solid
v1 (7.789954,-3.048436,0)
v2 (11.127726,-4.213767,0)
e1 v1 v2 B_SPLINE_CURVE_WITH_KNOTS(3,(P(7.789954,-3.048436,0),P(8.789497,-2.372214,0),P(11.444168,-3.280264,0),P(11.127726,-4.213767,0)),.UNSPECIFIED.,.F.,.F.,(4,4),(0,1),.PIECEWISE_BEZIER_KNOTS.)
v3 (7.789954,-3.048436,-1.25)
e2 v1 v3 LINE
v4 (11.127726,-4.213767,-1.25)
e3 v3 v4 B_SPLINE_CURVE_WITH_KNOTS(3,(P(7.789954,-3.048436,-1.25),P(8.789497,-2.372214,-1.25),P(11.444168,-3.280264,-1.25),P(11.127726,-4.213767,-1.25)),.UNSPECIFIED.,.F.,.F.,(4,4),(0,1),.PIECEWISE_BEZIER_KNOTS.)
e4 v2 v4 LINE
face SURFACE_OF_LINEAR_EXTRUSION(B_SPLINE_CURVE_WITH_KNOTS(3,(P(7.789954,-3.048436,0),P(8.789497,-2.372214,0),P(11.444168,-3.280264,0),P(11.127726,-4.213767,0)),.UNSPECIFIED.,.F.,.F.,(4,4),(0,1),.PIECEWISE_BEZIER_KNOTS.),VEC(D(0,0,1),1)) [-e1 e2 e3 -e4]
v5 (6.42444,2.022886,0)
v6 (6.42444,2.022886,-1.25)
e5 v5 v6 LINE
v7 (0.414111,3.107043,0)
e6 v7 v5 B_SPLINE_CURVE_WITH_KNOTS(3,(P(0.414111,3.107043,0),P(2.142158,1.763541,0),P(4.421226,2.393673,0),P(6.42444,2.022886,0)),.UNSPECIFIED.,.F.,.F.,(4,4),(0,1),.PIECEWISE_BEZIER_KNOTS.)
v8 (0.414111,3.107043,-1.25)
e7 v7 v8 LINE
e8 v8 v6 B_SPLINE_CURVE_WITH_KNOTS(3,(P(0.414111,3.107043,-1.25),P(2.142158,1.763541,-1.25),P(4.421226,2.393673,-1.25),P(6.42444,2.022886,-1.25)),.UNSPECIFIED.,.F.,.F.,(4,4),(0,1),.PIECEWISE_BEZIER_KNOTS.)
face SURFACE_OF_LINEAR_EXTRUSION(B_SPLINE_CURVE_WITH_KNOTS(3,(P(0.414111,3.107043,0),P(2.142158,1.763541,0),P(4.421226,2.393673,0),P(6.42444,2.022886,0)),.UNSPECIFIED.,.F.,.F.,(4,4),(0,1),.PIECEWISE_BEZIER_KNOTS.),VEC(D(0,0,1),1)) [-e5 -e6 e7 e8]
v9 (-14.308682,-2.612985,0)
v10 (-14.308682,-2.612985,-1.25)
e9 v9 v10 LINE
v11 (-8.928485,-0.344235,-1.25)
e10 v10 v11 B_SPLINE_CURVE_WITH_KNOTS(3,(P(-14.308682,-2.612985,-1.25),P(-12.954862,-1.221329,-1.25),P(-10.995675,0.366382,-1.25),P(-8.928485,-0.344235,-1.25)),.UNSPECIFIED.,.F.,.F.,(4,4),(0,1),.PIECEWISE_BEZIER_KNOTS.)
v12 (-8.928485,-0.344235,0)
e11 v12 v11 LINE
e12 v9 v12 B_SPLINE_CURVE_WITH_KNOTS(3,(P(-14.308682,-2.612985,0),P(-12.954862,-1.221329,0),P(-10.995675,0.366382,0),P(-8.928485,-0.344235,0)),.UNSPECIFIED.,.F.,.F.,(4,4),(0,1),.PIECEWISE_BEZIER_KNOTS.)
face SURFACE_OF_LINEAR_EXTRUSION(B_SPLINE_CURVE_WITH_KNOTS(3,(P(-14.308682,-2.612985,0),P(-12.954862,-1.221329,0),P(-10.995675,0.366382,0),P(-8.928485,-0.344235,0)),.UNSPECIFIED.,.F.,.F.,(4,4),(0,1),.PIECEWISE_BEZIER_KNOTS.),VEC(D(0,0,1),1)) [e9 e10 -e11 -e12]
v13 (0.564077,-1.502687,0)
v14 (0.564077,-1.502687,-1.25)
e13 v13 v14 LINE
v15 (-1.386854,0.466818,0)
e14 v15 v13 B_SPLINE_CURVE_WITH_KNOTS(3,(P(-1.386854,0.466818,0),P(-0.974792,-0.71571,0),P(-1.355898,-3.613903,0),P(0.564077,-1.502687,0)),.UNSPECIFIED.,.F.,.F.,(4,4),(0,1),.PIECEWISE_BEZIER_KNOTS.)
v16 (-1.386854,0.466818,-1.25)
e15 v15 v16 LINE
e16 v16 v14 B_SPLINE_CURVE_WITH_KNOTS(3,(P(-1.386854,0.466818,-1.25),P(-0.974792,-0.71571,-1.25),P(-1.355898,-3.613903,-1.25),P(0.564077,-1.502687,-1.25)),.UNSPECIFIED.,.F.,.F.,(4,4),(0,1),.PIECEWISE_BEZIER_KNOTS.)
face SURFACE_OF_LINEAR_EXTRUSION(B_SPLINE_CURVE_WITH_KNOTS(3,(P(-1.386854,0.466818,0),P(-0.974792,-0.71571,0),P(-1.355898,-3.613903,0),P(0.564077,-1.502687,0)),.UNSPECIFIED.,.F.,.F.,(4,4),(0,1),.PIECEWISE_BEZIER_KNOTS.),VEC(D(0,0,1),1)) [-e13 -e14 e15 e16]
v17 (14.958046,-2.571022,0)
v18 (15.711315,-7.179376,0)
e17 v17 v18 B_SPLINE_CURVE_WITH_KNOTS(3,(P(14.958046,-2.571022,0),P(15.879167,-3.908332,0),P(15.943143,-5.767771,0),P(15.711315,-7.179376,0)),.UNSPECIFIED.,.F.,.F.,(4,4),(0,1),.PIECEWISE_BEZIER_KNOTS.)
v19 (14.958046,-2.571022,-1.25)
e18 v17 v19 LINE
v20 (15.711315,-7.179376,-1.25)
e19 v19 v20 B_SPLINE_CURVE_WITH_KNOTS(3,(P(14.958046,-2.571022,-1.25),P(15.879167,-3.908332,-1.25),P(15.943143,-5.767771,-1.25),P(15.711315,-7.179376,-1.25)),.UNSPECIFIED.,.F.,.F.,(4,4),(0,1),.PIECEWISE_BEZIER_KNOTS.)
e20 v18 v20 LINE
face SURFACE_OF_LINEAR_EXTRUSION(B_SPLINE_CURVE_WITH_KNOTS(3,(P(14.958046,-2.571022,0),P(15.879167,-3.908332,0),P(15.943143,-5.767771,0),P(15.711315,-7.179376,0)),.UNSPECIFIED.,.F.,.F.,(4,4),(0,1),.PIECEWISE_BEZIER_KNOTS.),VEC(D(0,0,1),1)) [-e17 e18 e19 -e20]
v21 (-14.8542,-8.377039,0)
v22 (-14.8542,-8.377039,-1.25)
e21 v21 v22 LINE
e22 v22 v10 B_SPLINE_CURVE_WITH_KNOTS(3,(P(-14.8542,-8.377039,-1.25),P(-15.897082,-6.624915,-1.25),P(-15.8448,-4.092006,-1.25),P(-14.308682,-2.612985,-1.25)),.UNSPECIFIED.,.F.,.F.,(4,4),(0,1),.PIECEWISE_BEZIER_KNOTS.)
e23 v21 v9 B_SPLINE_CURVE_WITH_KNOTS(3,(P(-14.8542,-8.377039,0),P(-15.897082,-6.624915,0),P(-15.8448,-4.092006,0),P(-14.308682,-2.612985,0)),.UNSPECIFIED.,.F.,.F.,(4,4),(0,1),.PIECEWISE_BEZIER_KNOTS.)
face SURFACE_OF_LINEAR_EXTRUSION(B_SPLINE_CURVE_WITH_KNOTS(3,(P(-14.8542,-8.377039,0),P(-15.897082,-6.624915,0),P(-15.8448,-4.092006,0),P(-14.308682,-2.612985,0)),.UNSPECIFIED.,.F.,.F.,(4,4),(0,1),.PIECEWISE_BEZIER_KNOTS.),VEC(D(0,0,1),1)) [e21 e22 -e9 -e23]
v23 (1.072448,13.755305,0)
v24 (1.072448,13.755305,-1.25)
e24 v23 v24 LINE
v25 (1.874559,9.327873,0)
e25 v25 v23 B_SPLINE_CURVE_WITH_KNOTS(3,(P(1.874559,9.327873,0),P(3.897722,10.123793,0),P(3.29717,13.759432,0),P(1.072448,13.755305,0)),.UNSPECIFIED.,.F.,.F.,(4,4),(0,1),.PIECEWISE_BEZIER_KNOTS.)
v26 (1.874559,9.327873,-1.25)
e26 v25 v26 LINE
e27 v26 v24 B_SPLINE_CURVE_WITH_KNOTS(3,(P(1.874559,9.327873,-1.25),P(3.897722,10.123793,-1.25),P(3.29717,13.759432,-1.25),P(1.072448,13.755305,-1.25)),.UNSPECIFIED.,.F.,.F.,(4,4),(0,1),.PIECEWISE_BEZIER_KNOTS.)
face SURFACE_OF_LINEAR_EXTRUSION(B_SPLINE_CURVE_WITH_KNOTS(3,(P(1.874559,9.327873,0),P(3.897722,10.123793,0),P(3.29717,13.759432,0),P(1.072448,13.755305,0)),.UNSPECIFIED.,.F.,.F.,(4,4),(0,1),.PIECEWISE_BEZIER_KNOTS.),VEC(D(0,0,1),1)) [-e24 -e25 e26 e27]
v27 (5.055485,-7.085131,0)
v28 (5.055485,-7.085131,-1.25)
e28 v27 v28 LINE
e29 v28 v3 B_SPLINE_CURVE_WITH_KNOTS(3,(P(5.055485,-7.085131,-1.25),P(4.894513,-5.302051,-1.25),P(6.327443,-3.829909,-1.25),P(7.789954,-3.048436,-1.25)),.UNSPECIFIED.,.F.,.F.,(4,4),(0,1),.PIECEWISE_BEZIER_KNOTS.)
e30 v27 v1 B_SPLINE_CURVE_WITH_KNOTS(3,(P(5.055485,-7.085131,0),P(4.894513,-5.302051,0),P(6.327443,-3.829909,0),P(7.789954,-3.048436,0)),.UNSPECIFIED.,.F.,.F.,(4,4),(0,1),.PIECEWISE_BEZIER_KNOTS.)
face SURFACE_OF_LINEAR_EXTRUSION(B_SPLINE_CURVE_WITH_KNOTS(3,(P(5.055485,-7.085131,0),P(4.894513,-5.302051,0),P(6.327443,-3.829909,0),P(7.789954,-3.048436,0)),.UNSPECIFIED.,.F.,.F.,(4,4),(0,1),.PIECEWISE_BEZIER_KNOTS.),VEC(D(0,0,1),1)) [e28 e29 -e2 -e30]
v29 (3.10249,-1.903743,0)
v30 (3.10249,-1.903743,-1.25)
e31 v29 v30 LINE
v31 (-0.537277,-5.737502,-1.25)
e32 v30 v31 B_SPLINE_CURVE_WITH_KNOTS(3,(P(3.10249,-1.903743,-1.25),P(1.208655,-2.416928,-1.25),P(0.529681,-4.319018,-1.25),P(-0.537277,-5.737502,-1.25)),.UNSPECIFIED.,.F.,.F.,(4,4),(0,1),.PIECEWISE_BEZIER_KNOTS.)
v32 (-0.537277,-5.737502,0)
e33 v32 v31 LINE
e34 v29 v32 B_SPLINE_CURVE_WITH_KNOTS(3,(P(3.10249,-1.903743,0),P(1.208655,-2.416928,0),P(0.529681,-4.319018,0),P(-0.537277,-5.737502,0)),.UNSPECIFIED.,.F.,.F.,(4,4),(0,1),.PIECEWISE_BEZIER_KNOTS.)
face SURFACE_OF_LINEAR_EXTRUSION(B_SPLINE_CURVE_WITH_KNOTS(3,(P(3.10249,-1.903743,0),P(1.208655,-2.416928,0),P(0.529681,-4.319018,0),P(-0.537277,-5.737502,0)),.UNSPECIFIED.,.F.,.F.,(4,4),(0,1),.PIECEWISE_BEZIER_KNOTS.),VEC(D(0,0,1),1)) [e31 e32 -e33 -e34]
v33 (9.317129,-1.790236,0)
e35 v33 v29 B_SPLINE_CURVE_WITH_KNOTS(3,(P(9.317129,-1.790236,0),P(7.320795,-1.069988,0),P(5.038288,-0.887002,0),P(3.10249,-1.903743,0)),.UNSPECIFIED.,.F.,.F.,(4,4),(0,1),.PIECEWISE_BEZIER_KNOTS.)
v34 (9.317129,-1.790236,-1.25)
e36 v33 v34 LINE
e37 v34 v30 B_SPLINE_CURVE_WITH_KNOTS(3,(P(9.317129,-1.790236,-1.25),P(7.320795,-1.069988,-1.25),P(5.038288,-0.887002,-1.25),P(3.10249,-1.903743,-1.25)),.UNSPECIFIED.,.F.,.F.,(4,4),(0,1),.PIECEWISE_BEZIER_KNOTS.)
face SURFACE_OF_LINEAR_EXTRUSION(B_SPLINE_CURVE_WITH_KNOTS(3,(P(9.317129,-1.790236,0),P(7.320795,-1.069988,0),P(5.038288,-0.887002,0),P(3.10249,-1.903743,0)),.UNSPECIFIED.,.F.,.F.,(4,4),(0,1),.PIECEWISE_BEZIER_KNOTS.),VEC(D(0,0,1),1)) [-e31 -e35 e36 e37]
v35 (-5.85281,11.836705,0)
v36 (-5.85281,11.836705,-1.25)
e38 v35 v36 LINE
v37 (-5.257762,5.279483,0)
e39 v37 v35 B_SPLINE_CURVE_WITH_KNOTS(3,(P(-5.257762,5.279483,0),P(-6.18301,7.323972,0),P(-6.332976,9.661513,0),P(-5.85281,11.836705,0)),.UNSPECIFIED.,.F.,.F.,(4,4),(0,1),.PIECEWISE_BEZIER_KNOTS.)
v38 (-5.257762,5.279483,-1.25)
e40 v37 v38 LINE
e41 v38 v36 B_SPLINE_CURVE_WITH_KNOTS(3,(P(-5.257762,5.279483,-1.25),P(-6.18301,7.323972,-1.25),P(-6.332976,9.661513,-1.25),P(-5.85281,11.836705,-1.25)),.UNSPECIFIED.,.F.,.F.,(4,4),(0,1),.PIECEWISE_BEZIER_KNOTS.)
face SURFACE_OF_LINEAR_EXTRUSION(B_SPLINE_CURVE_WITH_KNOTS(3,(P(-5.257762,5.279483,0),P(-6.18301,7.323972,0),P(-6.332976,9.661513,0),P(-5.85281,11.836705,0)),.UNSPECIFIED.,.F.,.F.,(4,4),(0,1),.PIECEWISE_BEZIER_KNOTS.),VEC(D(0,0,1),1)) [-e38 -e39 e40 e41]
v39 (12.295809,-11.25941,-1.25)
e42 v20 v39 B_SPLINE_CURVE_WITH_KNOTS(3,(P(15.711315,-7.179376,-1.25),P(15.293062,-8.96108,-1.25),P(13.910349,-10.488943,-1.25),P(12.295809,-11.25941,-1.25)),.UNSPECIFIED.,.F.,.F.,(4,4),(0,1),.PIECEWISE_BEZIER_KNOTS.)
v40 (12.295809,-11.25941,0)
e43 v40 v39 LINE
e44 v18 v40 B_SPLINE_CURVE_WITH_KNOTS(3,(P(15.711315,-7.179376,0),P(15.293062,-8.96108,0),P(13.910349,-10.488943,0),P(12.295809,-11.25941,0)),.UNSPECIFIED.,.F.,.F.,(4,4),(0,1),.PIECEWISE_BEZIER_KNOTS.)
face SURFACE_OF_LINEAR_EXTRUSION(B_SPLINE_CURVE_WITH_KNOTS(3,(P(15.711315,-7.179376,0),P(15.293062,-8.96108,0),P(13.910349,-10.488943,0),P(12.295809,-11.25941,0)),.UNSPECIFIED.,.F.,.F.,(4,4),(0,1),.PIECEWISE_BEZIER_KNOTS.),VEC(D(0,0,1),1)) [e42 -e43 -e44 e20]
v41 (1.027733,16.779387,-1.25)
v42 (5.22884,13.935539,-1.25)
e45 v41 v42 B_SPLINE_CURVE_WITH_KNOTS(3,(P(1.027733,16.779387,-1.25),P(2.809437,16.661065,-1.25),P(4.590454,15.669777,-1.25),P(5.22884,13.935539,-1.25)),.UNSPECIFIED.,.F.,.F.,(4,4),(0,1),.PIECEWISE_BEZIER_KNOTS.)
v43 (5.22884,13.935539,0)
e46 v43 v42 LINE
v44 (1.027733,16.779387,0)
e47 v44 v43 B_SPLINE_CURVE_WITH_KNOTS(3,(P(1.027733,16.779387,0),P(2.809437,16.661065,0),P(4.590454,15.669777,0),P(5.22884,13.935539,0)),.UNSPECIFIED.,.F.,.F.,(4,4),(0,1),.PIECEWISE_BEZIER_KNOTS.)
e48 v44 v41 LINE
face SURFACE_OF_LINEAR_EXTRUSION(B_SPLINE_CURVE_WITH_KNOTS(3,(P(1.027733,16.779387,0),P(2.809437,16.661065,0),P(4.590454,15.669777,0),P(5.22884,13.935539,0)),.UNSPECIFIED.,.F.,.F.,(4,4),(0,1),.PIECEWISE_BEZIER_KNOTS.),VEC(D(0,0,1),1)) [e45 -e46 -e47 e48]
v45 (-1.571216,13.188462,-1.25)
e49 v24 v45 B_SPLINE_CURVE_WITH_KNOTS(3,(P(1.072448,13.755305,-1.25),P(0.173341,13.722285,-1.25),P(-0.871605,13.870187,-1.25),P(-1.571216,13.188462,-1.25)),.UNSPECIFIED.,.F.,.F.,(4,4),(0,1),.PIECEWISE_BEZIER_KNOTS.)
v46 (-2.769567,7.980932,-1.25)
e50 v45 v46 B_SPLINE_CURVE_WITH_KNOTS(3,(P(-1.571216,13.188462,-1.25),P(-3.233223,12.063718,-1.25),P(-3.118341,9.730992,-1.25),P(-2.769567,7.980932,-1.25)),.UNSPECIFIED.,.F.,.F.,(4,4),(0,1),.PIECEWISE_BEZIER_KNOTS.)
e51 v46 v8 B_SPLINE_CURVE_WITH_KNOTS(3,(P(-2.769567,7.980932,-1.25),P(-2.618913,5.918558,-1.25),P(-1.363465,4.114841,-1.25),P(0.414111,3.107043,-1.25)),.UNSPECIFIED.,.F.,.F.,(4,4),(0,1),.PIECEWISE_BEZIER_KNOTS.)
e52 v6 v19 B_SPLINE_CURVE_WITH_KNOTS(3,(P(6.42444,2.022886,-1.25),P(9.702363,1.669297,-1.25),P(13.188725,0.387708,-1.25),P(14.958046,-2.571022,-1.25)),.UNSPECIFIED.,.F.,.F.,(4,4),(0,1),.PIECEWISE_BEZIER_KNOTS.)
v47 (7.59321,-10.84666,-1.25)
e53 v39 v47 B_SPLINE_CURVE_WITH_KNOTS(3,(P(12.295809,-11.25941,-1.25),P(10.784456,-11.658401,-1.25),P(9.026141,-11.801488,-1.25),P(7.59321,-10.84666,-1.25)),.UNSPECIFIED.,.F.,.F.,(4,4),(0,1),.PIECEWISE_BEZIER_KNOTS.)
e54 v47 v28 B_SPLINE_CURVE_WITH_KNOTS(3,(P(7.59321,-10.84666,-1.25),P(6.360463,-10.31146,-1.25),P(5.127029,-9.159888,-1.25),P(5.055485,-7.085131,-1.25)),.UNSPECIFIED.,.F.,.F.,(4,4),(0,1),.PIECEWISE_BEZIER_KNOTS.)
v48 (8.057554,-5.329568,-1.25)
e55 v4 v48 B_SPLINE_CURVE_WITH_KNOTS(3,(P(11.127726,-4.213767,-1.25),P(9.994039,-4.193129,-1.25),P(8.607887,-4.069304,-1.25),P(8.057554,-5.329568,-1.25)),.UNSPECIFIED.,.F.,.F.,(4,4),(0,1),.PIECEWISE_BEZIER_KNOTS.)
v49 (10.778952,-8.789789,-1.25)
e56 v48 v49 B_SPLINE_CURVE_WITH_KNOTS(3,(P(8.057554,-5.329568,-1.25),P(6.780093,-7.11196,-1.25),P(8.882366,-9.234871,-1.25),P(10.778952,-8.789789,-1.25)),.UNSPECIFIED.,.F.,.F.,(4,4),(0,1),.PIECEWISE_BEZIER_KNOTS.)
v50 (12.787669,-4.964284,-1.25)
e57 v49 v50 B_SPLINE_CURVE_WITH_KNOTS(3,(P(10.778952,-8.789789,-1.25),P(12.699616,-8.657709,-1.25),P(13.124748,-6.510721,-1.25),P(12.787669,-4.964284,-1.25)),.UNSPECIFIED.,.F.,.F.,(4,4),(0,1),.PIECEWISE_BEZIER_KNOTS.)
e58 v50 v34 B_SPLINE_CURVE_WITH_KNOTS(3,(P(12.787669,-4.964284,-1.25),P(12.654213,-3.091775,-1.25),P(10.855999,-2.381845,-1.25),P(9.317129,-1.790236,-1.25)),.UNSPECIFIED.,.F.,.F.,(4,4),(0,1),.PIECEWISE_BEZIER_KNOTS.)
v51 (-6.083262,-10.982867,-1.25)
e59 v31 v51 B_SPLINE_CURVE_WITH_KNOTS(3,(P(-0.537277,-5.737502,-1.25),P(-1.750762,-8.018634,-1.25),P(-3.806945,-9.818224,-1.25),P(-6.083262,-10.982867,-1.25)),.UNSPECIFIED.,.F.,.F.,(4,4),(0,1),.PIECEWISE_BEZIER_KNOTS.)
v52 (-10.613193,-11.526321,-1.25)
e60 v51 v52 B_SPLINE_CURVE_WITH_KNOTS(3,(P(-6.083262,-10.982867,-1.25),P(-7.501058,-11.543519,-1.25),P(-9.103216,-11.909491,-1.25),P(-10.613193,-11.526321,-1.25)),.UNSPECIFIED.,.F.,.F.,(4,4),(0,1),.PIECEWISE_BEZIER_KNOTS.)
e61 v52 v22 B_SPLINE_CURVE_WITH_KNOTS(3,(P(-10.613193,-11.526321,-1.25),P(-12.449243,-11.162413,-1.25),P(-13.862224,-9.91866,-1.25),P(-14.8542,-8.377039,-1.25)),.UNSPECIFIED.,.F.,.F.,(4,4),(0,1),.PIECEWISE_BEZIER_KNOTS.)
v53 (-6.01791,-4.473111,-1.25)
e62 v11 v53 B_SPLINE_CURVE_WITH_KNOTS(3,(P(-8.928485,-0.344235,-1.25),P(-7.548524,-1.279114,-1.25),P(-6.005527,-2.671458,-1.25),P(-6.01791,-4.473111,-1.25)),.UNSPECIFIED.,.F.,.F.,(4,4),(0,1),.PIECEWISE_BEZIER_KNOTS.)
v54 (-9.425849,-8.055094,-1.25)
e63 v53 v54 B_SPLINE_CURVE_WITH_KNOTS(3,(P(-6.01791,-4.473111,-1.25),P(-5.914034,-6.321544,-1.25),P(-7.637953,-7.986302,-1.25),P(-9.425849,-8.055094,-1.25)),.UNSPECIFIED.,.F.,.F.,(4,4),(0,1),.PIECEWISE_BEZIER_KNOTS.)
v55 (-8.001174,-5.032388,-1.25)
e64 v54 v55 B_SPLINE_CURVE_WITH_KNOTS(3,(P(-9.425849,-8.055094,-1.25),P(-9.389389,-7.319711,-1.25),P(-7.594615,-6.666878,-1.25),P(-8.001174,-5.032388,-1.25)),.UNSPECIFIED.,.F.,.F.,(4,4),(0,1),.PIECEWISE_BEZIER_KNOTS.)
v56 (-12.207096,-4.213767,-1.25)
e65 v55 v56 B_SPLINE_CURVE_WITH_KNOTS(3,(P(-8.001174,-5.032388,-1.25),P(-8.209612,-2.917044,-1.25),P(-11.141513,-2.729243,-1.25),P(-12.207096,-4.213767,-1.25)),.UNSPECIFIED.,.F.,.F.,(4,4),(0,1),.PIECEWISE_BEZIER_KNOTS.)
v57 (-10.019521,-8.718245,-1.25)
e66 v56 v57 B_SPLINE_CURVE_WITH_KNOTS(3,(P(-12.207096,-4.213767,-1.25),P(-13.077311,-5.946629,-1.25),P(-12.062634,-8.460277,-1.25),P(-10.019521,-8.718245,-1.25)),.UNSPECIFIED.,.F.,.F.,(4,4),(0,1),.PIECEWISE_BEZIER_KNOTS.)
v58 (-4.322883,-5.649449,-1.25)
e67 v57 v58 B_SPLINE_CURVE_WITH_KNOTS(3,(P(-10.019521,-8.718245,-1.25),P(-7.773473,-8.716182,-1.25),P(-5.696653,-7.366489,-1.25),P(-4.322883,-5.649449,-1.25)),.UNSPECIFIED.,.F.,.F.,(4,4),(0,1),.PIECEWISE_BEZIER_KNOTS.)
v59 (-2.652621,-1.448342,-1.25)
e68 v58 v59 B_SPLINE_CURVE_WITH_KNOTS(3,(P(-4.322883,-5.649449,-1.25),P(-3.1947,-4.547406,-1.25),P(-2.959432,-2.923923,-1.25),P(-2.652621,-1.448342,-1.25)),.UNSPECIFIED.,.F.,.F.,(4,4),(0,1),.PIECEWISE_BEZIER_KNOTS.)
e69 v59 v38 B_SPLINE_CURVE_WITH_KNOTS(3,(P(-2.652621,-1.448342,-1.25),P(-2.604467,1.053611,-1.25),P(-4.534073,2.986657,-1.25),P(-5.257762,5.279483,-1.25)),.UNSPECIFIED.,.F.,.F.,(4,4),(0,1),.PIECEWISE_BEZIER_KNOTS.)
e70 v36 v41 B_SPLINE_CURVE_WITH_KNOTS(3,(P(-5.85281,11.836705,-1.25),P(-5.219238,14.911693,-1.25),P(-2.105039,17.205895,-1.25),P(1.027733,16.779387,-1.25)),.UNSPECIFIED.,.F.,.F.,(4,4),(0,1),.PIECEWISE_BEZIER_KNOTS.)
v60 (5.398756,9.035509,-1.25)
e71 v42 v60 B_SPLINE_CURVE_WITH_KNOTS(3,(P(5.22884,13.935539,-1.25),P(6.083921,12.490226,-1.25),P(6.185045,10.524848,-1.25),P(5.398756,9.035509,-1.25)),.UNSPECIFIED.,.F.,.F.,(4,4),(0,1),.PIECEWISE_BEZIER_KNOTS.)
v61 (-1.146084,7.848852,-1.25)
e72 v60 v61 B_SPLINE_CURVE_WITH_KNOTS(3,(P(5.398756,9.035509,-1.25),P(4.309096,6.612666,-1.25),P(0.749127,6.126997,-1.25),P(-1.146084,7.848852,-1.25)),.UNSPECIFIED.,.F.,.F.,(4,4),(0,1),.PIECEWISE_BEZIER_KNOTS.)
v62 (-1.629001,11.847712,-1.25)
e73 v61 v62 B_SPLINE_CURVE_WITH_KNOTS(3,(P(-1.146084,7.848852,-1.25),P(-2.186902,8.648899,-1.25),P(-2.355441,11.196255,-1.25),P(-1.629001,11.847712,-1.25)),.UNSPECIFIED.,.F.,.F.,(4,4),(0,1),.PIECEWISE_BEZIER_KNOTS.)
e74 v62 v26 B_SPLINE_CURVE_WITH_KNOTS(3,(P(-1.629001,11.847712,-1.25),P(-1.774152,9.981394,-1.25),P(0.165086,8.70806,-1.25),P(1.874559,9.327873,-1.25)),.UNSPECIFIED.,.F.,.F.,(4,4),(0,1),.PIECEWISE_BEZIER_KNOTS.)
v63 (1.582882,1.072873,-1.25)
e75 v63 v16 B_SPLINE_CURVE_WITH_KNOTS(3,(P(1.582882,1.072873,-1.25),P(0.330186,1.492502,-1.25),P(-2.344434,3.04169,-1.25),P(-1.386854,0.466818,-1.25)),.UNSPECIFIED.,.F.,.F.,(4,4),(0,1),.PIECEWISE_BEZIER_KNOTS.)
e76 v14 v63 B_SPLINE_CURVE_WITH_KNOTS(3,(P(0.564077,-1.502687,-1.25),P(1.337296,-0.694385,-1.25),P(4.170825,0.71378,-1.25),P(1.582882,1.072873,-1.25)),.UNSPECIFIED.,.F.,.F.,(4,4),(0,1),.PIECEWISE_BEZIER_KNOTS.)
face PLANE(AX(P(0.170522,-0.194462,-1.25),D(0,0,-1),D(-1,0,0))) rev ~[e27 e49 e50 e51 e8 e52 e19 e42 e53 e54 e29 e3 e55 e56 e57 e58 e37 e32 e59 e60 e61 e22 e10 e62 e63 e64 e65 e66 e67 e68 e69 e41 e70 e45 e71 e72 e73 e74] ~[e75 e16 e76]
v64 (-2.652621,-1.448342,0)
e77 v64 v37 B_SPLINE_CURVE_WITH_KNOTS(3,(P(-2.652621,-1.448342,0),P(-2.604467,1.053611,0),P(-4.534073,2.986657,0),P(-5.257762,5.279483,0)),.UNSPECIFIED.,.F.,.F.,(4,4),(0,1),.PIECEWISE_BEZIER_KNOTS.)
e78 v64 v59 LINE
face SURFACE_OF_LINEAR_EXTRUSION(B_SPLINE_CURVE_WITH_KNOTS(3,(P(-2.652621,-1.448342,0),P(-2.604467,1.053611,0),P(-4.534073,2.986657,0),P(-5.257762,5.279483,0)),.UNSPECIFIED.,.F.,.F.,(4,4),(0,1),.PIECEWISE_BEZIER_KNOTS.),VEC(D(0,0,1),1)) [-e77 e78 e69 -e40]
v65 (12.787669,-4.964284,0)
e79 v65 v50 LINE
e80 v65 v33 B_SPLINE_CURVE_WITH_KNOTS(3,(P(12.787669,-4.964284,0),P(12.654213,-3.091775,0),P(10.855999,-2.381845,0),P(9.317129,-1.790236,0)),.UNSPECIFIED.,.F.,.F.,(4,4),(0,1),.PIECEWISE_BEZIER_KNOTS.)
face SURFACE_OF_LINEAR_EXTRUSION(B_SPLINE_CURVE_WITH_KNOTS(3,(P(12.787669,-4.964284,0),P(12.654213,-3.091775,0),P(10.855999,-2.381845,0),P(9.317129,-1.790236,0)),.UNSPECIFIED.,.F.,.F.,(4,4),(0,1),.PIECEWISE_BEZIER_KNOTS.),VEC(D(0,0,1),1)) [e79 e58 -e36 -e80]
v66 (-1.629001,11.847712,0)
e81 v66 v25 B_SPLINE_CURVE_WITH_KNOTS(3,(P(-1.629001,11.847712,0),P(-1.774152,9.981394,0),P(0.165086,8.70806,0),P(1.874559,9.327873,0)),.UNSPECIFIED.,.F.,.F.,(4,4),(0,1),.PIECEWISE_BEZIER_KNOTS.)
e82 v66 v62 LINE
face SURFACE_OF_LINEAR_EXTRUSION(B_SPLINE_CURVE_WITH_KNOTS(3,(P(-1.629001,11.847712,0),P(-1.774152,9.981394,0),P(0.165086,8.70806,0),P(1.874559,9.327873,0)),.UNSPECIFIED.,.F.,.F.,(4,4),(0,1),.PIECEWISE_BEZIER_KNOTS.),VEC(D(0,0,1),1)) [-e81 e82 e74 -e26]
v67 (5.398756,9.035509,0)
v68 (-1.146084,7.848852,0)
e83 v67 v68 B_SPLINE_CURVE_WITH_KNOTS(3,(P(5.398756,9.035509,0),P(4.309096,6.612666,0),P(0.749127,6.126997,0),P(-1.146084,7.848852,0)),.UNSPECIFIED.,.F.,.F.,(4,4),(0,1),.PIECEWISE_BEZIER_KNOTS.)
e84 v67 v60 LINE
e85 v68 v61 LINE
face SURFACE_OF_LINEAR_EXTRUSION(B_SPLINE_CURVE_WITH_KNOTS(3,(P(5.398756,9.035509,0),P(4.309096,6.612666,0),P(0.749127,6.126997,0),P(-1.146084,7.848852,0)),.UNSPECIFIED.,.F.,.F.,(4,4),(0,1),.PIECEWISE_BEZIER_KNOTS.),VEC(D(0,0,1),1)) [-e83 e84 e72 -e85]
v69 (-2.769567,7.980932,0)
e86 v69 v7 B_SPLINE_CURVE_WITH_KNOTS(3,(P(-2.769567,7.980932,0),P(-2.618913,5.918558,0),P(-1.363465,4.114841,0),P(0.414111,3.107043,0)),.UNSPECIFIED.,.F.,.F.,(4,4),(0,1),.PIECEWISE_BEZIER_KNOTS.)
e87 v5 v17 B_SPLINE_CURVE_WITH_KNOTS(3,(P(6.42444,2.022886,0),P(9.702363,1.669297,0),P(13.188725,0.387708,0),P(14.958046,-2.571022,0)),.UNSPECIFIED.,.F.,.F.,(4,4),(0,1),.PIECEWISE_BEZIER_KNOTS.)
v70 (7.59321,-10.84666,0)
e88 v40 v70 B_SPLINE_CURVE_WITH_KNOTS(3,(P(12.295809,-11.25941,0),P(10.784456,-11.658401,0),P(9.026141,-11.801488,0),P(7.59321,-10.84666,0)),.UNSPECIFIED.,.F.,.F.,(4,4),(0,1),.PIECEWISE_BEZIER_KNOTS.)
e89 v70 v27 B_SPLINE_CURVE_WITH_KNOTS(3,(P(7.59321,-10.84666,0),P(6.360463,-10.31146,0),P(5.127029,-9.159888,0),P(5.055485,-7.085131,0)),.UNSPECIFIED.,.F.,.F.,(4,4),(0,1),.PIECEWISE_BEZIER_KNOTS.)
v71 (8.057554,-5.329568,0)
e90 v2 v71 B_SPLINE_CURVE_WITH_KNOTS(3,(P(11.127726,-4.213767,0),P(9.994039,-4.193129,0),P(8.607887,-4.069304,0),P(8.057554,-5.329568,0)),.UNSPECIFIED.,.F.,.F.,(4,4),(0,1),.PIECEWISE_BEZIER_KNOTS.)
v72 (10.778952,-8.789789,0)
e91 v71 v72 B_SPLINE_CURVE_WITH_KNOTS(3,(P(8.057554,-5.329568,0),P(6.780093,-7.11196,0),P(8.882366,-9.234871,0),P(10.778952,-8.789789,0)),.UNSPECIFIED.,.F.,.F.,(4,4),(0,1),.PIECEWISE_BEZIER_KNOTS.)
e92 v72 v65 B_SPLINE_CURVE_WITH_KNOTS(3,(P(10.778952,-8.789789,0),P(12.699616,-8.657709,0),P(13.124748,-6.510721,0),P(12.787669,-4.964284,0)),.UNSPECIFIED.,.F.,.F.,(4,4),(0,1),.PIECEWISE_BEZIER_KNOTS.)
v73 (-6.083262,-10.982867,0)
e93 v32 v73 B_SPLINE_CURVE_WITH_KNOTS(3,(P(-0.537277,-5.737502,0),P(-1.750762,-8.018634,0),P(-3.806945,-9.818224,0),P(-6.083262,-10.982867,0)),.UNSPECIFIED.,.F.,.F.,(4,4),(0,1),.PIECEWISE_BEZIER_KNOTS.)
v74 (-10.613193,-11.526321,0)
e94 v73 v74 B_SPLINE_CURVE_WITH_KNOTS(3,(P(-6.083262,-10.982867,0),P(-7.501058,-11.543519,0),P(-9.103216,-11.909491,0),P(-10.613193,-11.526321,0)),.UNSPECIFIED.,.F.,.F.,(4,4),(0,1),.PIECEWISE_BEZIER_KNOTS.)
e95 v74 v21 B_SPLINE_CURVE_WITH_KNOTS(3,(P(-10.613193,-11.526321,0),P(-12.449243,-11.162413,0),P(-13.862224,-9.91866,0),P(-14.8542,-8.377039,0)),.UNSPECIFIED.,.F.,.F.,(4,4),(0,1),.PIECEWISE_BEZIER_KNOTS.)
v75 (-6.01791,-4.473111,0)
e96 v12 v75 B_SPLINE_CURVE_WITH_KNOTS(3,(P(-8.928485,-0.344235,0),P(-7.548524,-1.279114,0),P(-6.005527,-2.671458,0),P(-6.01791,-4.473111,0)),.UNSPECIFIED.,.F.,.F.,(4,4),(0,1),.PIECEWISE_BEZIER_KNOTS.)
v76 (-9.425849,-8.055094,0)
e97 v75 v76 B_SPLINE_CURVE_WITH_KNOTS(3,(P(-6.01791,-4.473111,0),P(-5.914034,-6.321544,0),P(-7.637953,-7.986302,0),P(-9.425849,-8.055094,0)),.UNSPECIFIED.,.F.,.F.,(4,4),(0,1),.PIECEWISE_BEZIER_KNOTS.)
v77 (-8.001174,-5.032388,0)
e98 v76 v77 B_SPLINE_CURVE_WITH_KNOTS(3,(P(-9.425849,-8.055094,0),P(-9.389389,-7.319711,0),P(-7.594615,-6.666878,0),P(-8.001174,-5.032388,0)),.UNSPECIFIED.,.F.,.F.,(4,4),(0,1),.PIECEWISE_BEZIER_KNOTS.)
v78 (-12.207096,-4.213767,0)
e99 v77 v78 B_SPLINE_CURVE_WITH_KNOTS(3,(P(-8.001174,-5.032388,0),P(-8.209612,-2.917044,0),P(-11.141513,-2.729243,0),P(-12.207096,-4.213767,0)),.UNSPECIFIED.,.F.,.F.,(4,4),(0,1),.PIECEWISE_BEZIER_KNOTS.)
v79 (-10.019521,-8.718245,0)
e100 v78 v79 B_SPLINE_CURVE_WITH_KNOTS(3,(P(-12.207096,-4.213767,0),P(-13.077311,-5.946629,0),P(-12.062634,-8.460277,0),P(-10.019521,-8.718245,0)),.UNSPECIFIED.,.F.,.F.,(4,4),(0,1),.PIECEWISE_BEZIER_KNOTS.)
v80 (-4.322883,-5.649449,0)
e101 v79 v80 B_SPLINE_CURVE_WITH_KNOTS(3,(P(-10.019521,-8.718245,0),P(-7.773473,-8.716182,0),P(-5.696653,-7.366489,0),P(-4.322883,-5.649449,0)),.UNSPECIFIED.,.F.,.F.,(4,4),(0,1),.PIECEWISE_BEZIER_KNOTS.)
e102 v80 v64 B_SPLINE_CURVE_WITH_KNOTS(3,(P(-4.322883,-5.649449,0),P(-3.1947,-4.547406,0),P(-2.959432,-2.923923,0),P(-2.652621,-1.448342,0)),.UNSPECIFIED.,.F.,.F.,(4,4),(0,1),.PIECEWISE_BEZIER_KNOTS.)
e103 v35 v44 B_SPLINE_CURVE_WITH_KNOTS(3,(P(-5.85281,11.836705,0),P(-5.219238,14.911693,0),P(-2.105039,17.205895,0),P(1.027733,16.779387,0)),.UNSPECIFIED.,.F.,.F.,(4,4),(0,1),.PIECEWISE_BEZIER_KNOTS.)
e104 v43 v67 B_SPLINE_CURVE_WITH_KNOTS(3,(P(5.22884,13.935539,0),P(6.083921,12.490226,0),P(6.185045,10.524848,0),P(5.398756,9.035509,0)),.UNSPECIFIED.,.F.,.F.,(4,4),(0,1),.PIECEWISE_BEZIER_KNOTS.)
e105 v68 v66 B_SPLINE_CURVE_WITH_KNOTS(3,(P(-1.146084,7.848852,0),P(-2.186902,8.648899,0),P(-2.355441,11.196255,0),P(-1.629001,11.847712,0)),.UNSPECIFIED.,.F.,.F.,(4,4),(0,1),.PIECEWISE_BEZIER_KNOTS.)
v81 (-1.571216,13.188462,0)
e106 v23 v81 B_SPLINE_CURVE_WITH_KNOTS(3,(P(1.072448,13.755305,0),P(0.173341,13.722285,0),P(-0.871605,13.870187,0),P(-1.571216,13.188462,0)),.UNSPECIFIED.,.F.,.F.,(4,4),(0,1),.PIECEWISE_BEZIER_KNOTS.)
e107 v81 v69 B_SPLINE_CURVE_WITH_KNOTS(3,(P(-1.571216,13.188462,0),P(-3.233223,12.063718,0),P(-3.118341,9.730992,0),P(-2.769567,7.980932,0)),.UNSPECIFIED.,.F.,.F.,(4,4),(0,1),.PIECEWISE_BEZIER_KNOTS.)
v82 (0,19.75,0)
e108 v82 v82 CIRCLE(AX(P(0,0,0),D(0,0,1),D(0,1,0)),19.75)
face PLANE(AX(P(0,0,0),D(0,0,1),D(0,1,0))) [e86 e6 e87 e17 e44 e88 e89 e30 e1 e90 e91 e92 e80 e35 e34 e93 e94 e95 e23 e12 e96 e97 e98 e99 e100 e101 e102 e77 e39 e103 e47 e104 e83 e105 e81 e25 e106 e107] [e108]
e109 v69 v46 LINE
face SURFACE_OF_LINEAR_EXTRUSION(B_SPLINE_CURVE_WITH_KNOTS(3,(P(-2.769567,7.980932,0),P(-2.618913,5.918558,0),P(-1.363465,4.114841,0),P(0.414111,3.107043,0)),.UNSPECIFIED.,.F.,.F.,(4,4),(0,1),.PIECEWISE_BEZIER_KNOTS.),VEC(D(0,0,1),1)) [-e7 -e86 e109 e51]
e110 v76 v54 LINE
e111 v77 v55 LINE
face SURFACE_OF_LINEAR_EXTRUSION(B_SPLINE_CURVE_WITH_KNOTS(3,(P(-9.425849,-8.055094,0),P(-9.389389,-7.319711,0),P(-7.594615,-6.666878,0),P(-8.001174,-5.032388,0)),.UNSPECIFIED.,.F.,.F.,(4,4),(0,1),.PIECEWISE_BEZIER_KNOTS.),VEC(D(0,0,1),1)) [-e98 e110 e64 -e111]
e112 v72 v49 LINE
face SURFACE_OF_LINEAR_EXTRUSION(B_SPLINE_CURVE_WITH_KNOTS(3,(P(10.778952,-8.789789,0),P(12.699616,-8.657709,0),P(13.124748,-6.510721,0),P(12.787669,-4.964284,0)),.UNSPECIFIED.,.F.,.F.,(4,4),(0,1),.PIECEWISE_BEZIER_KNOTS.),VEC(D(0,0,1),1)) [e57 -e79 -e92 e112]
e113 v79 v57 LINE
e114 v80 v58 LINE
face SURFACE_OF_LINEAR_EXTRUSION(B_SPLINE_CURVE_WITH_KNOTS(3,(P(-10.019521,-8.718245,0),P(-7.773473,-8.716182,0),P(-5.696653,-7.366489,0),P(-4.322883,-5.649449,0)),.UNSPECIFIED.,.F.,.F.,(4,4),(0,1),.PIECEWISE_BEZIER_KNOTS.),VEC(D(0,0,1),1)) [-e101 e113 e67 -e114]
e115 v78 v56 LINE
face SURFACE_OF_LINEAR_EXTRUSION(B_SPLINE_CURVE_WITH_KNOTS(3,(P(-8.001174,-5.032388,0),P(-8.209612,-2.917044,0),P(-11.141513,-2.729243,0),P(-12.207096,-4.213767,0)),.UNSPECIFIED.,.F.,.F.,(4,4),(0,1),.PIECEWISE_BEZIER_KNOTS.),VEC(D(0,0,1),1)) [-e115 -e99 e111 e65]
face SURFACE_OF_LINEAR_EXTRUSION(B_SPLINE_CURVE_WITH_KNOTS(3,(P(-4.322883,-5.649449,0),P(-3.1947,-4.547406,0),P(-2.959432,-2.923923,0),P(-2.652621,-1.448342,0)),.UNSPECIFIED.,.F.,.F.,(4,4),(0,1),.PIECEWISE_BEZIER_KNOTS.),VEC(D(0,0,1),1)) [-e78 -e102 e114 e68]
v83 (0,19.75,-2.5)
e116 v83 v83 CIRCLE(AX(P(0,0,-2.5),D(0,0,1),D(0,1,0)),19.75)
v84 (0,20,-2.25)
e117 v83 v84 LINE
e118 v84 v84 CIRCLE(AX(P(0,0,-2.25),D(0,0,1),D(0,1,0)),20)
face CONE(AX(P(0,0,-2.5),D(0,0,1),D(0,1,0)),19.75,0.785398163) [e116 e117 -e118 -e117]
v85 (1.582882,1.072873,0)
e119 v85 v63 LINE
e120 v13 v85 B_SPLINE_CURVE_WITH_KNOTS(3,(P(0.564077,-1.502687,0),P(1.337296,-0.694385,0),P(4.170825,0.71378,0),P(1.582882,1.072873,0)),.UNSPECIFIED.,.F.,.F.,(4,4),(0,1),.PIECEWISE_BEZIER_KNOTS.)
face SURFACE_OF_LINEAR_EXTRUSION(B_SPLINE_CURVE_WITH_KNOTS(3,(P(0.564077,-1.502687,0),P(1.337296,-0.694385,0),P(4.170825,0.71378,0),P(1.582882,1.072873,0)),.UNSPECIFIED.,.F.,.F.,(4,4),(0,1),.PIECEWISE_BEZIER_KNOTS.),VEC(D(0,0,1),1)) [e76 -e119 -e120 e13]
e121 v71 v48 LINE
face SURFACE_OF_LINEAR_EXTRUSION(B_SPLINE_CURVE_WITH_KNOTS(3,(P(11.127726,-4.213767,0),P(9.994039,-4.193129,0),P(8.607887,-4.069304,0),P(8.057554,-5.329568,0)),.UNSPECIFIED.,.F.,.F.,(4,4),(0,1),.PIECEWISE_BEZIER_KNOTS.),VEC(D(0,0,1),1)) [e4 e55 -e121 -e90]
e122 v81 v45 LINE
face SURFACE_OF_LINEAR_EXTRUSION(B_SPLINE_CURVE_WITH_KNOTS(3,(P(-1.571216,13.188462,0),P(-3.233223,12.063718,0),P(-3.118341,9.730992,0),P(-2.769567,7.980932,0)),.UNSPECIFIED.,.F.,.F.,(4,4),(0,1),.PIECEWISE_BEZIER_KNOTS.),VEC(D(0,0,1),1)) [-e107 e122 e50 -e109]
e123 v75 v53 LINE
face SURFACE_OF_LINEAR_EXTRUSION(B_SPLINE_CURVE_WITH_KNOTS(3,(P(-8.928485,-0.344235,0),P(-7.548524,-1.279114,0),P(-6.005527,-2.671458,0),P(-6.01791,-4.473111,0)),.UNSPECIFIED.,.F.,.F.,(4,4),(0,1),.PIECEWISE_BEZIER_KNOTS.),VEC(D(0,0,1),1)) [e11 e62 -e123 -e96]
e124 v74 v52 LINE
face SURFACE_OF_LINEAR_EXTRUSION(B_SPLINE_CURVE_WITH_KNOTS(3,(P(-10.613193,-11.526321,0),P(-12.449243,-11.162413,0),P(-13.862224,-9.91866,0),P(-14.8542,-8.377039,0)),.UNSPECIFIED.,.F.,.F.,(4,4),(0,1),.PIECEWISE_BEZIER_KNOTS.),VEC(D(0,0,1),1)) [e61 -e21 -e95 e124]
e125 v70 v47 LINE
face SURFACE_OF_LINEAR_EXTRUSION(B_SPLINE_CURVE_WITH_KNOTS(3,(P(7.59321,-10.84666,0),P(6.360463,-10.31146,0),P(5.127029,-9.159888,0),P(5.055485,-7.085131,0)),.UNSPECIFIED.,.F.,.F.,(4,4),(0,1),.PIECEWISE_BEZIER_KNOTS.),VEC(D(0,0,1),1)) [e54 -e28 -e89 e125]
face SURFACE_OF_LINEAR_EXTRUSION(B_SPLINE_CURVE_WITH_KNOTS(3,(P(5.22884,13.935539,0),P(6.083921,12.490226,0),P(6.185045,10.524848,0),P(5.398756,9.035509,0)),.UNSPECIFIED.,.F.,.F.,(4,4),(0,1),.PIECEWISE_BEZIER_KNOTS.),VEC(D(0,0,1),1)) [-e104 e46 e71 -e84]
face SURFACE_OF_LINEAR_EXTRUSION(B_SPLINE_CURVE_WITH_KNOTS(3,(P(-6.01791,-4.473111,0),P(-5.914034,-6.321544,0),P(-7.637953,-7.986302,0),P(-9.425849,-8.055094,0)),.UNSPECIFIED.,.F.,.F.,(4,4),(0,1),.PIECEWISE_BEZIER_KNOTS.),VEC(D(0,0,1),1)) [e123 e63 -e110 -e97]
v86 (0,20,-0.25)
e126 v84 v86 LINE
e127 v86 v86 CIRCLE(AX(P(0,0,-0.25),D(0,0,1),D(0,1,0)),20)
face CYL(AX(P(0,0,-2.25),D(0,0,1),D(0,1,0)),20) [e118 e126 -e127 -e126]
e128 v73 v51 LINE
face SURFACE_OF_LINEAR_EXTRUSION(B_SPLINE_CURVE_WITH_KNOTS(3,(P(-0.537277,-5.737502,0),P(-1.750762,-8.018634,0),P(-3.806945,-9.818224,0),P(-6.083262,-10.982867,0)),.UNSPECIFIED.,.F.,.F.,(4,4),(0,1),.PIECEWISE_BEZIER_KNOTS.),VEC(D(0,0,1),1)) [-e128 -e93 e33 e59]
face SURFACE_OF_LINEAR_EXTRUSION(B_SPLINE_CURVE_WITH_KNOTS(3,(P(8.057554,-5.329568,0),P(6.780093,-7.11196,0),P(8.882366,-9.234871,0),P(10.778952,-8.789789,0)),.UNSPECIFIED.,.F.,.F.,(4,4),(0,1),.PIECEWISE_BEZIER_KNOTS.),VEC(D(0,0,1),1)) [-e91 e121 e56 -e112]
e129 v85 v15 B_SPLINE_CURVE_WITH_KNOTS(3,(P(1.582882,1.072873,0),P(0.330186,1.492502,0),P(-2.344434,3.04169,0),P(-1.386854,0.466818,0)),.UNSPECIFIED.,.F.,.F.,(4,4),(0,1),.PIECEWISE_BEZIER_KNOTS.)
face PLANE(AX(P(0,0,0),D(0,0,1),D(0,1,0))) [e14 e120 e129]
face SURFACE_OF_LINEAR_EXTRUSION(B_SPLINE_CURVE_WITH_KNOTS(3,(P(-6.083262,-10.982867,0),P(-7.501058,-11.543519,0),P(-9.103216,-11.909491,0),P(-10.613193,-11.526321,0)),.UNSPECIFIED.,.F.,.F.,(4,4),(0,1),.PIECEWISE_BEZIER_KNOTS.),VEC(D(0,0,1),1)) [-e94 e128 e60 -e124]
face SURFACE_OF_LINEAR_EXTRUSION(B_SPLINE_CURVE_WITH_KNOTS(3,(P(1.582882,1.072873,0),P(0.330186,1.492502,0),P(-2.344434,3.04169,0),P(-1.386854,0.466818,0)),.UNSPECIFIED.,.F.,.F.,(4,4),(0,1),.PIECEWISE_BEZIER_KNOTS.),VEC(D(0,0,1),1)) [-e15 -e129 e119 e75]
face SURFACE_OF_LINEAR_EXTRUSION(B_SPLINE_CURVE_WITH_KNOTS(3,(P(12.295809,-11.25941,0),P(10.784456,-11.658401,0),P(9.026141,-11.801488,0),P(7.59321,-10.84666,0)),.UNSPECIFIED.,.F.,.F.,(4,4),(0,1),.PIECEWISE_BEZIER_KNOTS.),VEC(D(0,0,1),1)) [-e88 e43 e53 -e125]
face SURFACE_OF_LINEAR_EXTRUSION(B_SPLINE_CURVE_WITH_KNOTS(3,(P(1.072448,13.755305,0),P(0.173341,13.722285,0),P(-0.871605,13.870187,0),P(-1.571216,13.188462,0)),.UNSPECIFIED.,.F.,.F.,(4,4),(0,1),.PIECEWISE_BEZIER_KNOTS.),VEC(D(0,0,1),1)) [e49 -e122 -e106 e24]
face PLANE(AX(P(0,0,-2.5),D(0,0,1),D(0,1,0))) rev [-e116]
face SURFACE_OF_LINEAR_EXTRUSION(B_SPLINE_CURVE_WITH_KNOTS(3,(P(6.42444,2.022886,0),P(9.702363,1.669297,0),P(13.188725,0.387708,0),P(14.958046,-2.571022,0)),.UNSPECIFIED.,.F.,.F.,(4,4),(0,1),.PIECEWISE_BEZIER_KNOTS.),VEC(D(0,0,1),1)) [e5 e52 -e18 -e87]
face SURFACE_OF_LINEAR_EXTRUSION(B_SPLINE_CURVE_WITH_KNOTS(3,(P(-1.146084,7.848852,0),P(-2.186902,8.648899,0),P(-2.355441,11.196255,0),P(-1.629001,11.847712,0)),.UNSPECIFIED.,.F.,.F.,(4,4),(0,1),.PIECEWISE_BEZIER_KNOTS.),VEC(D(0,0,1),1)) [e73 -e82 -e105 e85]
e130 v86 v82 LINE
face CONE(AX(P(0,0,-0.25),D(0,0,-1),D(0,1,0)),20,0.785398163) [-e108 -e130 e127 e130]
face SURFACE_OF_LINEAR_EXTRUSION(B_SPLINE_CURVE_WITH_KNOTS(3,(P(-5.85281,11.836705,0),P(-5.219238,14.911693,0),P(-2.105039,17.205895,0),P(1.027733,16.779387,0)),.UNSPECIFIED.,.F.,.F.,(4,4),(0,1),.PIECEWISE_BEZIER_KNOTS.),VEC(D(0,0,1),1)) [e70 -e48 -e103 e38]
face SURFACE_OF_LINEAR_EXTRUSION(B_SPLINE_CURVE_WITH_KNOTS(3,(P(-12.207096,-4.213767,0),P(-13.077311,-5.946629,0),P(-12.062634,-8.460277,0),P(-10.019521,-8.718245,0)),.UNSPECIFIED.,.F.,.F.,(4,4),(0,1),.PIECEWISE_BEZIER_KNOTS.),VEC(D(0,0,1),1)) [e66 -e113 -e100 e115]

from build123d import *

# Parameters (mm, degrees)
POCKET_DEPTH = 1.25


with BuildPart() as part:
    # Sketch (on DatumPlane) → Revolution (revolve)
    with BuildSketch(Plane.YZ):
        Polygon((0, 0), (0, -2.5), (19.75, -2.5), (20, -2.25), (20, -0.25), (19.75, 0), align=None)
    revolve(axis=Axis((0, 0, 0), (0, 0, 1)))

    # Sketch005 → Pocket (cut)
    with BuildSketch(Plane.XY):
        with BuildLine():
            add(Edge.make_bspline(
                [(-10.613193, -11.526321), (-12.449243, -11.162413), (-13.862224, -9.91866), (-14.8542, -8.377039)],
                knots=[0, 0, 0, 0, 1, 1, 1, 1], degree=3))
            add(Edge.make_bspline(
                [(-14.8542, -8.377039), (-15.897082, -6.624915), (-15.8448, -4.092006), (-14.308682, -2.612985)],
                knots=[0, 0, 0, 0, 1, 1, 1, 1], degree=3))
            add(Edge.make_bspline(
                [(-14.308682, -2.612985), (-12.954862, -1.221329), (-10.995675, 0.366382), (-8.928485, -0.344235)],
                knots=[0, 0, 0, 0, 1, 1, 1, 1], degree=3))
            add(Edge.make_bspline(
                [(-8.928485, -0.344235), (-7.548524, -1.279114), (-6.005527, -2.671458), (-6.01791, -4.473111)],
                knots=[0, 0, 0, 0, 1, 1, 1, 1], degree=3))
            add(Edge.make_bspline(
                [(-6.01791, -4.473111), (-5.914034, -6.321544), (-7.637953, -7.986302), (-9.425849, -8.055094)],
                knots=[0, 0, 0, 0, 1, 1, 1, 1], degree=3))
            add(Edge.make_bspline(
                [(-9.425849, -8.055094), (-9.389389, -7.319711), (-7.594615, -6.666878), (-8.001174, -5.032388)],
                knots=[0, 0, 0, 0, 1, 1, 1, 1], degree=3))
            add(Edge.make_bspline(
                [(-8.001174, -5.032388), (-8.209612, -2.917044), (-11.141513, -2.729243), (-12.207096, -4.213767)],
                knots=[0, 0, 0, 0, 1, 1, 1, 1], degree=3))
            add(Edge.make_bspline(
                [(-12.207096, -4.213767), (-13.077311, -5.946629), (-12.062634, -8.460277), (-10.019521, -8.718245)],
                knots=[0, 0, 0, 0, 1, 1, 1, 1], degree=3))
            add(Edge.make_bspline(
                [(-10.019521, -8.718245), (-7.773473, -8.716182), (-5.696653, -7.366489), (-4.322883, -5.649449)],
                knots=[0, 0, 0, 0, 1, 1, 1, 1], degree=3))
            add(Edge.make_bspline(
                [(-4.322883, -5.649449), (-3.1947, -4.547406), (-2.959432, -2.923923), (-2.652621, -1.448342)],
                knots=[0, 0, 0, 0, 1, 1, 1, 1], degree=3))
            add(Edge.make_bspline(
                [(-2.652621, -1.448342), (-2.604467, 1.053611), (-4.534073, 2.986657), (-5.257762, 5.279483)],
                knots=[0, 0, 0, 0, 1, 1, 1, 1], degree=3))
            add(Edge.make_bspline(
                [(-5.257762, 5.279483), (-6.18301, 7.323972), (-6.332976, 9.661513), (-5.85281, 11.836705)],
                knots=[0, 0, 0, 0, 1, 1, 1, 1], degree=3))
            add(Edge.make_bspline(
                [(-5.85281, 11.836705), (-5.219238, 14.911693), (-2.105039, 17.205895), (1.027733, 16.779387)],
                knots=[0, 0, 0, 0, 1, 1, 1, 1], degree=3))
            add(Edge.make_bspline(
                [(1.027733, 16.779387), (2.809437, 16.661065), (4.590454, 15.669777), (5.22884, 13.935539)],
                knots=[0, 0, 0, 0, 1, 1, 1, 1], degree=3))
            add(Edge.make_bspline(
                [(5.22884, 13.935539), (6.083921, 12.490226), (6.185045, 10.524848), (5.398756, 9.035509)],
                knots=[0, 0, 0, 0, 1, 1, 1, 1], degree=3))
            add(Edge.make_bspline(
                [(5.398756, 9.035509), (4.309096, 6.612666), (0.749127, 6.126997), (-1.146084, 7.848852)],
                knots=[0, 0, 0, 0, 1, 1, 1, 1], degree=3))
            add(Edge.make_bspline(
                [(-1.146084, 7.848852), (-2.186902, 8.648899), (-2.355441, 11.196255), (-1.629001, 11.847712)],
                knots=[0, 0, 0, 0, 1, 1, 1, 1], degree=3))
            add(Edge.make_bspline(
                [(-1.629001, 11.847712), (-1.774152, 9.981394), (0.165086, 8.70806), (1.874559, 9.327873)],
                knots=[0, 0, 0, 0, 1, 1, 1, 1], degree=3))
            add(Edge.make_bspline(
                [(1.874559, 9.327873), (3.897722, 10.123793), (3.29717, 13.759432), (1.072448, 13.755305)],
                knots=[0, 0, 0, 0, 1, 1, 1, 1], degree=3))
            add(Edge.make_bspline(
                [(1.072448, 13.755305), (0.173341, 13.722285), (-0.871605, 13.870187), (-1.571216, 13.188462)],
                knots=[0, 0, 0, 0, 1, 1, 1, 1], degree=3))
            add(Edge.make_bspline(
                [(-1.571216, 13.188462), (-3.233223, 12.063718), (-3.118341, 9.730992), (-2.769567, 7.980932)],
                knots=[0, 0, 0, 0, 1, 1, 1, 1], degree=3))
            add(Edge.make_bspline(
                [(-2.769567, 7.980932), (-2.618913, 5.918558), (-1.363465, 4.114841), (0.414111, 3.107043)],
                knots=[0, 0, 0, 0, 1, 1, 1, 1], degree=3))
            add(Edge.make_bspline(
                [(0.414111, 3.107043), (2.142158, 1.763541), (4.421226, 2.393673), (6.42444, 2.022886)],
                knots=[0, 0, 0, 0, 1, 1, 1, 1], degree=3))
            add(Edge.make_bspline(
                [(6.42444, 2.022886), (9.702363, 1.669297), (13.188725, 0.387708), (14.958046, -2.571022)],
                knots=[0, 0, 0, 0, 1, 1, 1, 1], degree=3))
            add(Edge.make_bspline(
                [(14.958046, -2.571022), (15.879167, -3.908332), (15.943143, -5.767771), (15.711315, -7.179376)],
                knots=[0, 0, 0, 0, 1, 1, 1, 1], degree=3))
            add(Edge.make_bspline(
                [(15.711315, -7.179376), (15.293062, -8.96108), (13.910349, -10.488943), (12.295809, -11.25941)],
                knots=[0, 0, 0, 0, 1, 1, 1, 1], degree=3))
            add(Edge.make_bspline(
                [(12.295809, -11.25941), (10.784456, -11.658401), (9.026141, -11.801488), (7.59321, -10.84666)],
                knots=[0, 0, 0, 0, 1, 1, 1, 1], degree=3))
            add(Edge.make_bspline(
                [(7.59321, -10.84666), (6.360463, -10.31146), (5.127029, -9.159888), (5.055485, -7.085131)],
                knots=[0, 0, 0, 0, 1, 1, 1, 1], degree=3))
            add(Edge.make_bspline(
                [(5.055485, -7.085131), (4.894513, -5.302051), (6.327443, -3.829909), (7.789954, -3.048436)],
                knots=[0, 0, 0, 0, 1, 1, 1, 1], degree=3))
            add(Edge.make_bspline(
                [(7.789954, -3.048436), (8.789497, -2.372214), (11.444168, -3.280264), (11.127726, -4.213767)],
                knots=[0, 0, 0, 0, 1, 1, 1, 1], degree=3))
            add(Edge.make_bspline(
                [(11.127726, -4.213767), (9.994039, -4.193129), (8.607887, -4.069304), (8.057554, -5.329568)],
                knots=[0, 0, 0, 0, 1, 1, 1, 1], degree=3))
            add(Edge.make_bspline(
                [(8.057554, -5.329568), (6.780093, -7.11196), (8.882366, -9.234871), (10.778952, -8.789789)],
                knots=[0, 0, 0, 0, 1, 1, 1, 1], degree=3))
            add(Edge.make_bspline(
                [(10.778952, -8.789789), (12.699616, -8.657709), (13.124748, -6.510721), (12.787669, -4.964284)],
                knots=[0, 0, 0, 0, 1, 1, 1, 1], degree=3))
            add(Edge.make_bspline(
                [(12.787669, -4.964284), (12.654213, -3.091775), (10.855999, -2.381845), (9.317129, -1.790236)],
                knots=[0, 0, 0, 0, 1, 1, 1, 1], degree=3))
            add(Edge.make_bspline(
                [(9.317129, -1.790236), (7.320795, -1.069988), (5.038288, -0.887002), (3.10249, -1.903743)],
                knots=[0, 0, 0, 0, 1, 1, 1, 1], degree=3))
            add(Edge.make_bspline(
                [(3.10249, -1.903743), (1.208655, -2.416928), (0.529681, -4.319018), (-0.537277, -5.737502)],
                knots=[0, 0, 0, 0, 1, 1, 1, 1], degree=3))
            add(Edge.make_bspline(
                [(-0.537277, -5.737502), (-1.750762, -8.018634), (-3.806945, -9.818224), (-6.083262, -10.982867)],
                knots=[0, 0, 0, 0, 1, 1, 1, 1], degree=3))
            add(Edge.make_bspline(
                [(-6.083262, -10.982867), (-7.501058, -11.543519), (-9.103216, -11.909491), (-10.613193, -11.526321)],
                knots=[0, 0, 0, 0, 1, 1, 1, 1], degree=3))
        make_face()
        with BuildLine():
            add(Edge.make_bspline(
                [(0.564077, -1.502687), (1.337296, -0.694385), (4.170825, 0.71378), (1.582882, 1.072873)],
                knots=[0, 0, 0, 0, 1, 1, 1, 1], degree=3))
            add(Edge.make_bspline(
                [(1.582882, 1.072873), (0.330186, 1.492502), (-2.344434, 3.04169), (-1.386854, 0.466818)],
                knots=[0, 0, 0, 0, 1, 1, 1, 1], degree=3))
            add(Edge.make_bspline(
                [(-1.386854, 0.466818), (-0.974792, -0.71571), (-1.355898, -3.613903), (0.564077, -1.502687)],
                knots=[0, 0, 0, 0, 1, 1, 1, 1], degree=3))
        make_face(mode=Mode.SUBTRACT)
    extrude(amount=-POCKET_DEPTH, mode=Mode.SUBTRACT)


solid = part.part
